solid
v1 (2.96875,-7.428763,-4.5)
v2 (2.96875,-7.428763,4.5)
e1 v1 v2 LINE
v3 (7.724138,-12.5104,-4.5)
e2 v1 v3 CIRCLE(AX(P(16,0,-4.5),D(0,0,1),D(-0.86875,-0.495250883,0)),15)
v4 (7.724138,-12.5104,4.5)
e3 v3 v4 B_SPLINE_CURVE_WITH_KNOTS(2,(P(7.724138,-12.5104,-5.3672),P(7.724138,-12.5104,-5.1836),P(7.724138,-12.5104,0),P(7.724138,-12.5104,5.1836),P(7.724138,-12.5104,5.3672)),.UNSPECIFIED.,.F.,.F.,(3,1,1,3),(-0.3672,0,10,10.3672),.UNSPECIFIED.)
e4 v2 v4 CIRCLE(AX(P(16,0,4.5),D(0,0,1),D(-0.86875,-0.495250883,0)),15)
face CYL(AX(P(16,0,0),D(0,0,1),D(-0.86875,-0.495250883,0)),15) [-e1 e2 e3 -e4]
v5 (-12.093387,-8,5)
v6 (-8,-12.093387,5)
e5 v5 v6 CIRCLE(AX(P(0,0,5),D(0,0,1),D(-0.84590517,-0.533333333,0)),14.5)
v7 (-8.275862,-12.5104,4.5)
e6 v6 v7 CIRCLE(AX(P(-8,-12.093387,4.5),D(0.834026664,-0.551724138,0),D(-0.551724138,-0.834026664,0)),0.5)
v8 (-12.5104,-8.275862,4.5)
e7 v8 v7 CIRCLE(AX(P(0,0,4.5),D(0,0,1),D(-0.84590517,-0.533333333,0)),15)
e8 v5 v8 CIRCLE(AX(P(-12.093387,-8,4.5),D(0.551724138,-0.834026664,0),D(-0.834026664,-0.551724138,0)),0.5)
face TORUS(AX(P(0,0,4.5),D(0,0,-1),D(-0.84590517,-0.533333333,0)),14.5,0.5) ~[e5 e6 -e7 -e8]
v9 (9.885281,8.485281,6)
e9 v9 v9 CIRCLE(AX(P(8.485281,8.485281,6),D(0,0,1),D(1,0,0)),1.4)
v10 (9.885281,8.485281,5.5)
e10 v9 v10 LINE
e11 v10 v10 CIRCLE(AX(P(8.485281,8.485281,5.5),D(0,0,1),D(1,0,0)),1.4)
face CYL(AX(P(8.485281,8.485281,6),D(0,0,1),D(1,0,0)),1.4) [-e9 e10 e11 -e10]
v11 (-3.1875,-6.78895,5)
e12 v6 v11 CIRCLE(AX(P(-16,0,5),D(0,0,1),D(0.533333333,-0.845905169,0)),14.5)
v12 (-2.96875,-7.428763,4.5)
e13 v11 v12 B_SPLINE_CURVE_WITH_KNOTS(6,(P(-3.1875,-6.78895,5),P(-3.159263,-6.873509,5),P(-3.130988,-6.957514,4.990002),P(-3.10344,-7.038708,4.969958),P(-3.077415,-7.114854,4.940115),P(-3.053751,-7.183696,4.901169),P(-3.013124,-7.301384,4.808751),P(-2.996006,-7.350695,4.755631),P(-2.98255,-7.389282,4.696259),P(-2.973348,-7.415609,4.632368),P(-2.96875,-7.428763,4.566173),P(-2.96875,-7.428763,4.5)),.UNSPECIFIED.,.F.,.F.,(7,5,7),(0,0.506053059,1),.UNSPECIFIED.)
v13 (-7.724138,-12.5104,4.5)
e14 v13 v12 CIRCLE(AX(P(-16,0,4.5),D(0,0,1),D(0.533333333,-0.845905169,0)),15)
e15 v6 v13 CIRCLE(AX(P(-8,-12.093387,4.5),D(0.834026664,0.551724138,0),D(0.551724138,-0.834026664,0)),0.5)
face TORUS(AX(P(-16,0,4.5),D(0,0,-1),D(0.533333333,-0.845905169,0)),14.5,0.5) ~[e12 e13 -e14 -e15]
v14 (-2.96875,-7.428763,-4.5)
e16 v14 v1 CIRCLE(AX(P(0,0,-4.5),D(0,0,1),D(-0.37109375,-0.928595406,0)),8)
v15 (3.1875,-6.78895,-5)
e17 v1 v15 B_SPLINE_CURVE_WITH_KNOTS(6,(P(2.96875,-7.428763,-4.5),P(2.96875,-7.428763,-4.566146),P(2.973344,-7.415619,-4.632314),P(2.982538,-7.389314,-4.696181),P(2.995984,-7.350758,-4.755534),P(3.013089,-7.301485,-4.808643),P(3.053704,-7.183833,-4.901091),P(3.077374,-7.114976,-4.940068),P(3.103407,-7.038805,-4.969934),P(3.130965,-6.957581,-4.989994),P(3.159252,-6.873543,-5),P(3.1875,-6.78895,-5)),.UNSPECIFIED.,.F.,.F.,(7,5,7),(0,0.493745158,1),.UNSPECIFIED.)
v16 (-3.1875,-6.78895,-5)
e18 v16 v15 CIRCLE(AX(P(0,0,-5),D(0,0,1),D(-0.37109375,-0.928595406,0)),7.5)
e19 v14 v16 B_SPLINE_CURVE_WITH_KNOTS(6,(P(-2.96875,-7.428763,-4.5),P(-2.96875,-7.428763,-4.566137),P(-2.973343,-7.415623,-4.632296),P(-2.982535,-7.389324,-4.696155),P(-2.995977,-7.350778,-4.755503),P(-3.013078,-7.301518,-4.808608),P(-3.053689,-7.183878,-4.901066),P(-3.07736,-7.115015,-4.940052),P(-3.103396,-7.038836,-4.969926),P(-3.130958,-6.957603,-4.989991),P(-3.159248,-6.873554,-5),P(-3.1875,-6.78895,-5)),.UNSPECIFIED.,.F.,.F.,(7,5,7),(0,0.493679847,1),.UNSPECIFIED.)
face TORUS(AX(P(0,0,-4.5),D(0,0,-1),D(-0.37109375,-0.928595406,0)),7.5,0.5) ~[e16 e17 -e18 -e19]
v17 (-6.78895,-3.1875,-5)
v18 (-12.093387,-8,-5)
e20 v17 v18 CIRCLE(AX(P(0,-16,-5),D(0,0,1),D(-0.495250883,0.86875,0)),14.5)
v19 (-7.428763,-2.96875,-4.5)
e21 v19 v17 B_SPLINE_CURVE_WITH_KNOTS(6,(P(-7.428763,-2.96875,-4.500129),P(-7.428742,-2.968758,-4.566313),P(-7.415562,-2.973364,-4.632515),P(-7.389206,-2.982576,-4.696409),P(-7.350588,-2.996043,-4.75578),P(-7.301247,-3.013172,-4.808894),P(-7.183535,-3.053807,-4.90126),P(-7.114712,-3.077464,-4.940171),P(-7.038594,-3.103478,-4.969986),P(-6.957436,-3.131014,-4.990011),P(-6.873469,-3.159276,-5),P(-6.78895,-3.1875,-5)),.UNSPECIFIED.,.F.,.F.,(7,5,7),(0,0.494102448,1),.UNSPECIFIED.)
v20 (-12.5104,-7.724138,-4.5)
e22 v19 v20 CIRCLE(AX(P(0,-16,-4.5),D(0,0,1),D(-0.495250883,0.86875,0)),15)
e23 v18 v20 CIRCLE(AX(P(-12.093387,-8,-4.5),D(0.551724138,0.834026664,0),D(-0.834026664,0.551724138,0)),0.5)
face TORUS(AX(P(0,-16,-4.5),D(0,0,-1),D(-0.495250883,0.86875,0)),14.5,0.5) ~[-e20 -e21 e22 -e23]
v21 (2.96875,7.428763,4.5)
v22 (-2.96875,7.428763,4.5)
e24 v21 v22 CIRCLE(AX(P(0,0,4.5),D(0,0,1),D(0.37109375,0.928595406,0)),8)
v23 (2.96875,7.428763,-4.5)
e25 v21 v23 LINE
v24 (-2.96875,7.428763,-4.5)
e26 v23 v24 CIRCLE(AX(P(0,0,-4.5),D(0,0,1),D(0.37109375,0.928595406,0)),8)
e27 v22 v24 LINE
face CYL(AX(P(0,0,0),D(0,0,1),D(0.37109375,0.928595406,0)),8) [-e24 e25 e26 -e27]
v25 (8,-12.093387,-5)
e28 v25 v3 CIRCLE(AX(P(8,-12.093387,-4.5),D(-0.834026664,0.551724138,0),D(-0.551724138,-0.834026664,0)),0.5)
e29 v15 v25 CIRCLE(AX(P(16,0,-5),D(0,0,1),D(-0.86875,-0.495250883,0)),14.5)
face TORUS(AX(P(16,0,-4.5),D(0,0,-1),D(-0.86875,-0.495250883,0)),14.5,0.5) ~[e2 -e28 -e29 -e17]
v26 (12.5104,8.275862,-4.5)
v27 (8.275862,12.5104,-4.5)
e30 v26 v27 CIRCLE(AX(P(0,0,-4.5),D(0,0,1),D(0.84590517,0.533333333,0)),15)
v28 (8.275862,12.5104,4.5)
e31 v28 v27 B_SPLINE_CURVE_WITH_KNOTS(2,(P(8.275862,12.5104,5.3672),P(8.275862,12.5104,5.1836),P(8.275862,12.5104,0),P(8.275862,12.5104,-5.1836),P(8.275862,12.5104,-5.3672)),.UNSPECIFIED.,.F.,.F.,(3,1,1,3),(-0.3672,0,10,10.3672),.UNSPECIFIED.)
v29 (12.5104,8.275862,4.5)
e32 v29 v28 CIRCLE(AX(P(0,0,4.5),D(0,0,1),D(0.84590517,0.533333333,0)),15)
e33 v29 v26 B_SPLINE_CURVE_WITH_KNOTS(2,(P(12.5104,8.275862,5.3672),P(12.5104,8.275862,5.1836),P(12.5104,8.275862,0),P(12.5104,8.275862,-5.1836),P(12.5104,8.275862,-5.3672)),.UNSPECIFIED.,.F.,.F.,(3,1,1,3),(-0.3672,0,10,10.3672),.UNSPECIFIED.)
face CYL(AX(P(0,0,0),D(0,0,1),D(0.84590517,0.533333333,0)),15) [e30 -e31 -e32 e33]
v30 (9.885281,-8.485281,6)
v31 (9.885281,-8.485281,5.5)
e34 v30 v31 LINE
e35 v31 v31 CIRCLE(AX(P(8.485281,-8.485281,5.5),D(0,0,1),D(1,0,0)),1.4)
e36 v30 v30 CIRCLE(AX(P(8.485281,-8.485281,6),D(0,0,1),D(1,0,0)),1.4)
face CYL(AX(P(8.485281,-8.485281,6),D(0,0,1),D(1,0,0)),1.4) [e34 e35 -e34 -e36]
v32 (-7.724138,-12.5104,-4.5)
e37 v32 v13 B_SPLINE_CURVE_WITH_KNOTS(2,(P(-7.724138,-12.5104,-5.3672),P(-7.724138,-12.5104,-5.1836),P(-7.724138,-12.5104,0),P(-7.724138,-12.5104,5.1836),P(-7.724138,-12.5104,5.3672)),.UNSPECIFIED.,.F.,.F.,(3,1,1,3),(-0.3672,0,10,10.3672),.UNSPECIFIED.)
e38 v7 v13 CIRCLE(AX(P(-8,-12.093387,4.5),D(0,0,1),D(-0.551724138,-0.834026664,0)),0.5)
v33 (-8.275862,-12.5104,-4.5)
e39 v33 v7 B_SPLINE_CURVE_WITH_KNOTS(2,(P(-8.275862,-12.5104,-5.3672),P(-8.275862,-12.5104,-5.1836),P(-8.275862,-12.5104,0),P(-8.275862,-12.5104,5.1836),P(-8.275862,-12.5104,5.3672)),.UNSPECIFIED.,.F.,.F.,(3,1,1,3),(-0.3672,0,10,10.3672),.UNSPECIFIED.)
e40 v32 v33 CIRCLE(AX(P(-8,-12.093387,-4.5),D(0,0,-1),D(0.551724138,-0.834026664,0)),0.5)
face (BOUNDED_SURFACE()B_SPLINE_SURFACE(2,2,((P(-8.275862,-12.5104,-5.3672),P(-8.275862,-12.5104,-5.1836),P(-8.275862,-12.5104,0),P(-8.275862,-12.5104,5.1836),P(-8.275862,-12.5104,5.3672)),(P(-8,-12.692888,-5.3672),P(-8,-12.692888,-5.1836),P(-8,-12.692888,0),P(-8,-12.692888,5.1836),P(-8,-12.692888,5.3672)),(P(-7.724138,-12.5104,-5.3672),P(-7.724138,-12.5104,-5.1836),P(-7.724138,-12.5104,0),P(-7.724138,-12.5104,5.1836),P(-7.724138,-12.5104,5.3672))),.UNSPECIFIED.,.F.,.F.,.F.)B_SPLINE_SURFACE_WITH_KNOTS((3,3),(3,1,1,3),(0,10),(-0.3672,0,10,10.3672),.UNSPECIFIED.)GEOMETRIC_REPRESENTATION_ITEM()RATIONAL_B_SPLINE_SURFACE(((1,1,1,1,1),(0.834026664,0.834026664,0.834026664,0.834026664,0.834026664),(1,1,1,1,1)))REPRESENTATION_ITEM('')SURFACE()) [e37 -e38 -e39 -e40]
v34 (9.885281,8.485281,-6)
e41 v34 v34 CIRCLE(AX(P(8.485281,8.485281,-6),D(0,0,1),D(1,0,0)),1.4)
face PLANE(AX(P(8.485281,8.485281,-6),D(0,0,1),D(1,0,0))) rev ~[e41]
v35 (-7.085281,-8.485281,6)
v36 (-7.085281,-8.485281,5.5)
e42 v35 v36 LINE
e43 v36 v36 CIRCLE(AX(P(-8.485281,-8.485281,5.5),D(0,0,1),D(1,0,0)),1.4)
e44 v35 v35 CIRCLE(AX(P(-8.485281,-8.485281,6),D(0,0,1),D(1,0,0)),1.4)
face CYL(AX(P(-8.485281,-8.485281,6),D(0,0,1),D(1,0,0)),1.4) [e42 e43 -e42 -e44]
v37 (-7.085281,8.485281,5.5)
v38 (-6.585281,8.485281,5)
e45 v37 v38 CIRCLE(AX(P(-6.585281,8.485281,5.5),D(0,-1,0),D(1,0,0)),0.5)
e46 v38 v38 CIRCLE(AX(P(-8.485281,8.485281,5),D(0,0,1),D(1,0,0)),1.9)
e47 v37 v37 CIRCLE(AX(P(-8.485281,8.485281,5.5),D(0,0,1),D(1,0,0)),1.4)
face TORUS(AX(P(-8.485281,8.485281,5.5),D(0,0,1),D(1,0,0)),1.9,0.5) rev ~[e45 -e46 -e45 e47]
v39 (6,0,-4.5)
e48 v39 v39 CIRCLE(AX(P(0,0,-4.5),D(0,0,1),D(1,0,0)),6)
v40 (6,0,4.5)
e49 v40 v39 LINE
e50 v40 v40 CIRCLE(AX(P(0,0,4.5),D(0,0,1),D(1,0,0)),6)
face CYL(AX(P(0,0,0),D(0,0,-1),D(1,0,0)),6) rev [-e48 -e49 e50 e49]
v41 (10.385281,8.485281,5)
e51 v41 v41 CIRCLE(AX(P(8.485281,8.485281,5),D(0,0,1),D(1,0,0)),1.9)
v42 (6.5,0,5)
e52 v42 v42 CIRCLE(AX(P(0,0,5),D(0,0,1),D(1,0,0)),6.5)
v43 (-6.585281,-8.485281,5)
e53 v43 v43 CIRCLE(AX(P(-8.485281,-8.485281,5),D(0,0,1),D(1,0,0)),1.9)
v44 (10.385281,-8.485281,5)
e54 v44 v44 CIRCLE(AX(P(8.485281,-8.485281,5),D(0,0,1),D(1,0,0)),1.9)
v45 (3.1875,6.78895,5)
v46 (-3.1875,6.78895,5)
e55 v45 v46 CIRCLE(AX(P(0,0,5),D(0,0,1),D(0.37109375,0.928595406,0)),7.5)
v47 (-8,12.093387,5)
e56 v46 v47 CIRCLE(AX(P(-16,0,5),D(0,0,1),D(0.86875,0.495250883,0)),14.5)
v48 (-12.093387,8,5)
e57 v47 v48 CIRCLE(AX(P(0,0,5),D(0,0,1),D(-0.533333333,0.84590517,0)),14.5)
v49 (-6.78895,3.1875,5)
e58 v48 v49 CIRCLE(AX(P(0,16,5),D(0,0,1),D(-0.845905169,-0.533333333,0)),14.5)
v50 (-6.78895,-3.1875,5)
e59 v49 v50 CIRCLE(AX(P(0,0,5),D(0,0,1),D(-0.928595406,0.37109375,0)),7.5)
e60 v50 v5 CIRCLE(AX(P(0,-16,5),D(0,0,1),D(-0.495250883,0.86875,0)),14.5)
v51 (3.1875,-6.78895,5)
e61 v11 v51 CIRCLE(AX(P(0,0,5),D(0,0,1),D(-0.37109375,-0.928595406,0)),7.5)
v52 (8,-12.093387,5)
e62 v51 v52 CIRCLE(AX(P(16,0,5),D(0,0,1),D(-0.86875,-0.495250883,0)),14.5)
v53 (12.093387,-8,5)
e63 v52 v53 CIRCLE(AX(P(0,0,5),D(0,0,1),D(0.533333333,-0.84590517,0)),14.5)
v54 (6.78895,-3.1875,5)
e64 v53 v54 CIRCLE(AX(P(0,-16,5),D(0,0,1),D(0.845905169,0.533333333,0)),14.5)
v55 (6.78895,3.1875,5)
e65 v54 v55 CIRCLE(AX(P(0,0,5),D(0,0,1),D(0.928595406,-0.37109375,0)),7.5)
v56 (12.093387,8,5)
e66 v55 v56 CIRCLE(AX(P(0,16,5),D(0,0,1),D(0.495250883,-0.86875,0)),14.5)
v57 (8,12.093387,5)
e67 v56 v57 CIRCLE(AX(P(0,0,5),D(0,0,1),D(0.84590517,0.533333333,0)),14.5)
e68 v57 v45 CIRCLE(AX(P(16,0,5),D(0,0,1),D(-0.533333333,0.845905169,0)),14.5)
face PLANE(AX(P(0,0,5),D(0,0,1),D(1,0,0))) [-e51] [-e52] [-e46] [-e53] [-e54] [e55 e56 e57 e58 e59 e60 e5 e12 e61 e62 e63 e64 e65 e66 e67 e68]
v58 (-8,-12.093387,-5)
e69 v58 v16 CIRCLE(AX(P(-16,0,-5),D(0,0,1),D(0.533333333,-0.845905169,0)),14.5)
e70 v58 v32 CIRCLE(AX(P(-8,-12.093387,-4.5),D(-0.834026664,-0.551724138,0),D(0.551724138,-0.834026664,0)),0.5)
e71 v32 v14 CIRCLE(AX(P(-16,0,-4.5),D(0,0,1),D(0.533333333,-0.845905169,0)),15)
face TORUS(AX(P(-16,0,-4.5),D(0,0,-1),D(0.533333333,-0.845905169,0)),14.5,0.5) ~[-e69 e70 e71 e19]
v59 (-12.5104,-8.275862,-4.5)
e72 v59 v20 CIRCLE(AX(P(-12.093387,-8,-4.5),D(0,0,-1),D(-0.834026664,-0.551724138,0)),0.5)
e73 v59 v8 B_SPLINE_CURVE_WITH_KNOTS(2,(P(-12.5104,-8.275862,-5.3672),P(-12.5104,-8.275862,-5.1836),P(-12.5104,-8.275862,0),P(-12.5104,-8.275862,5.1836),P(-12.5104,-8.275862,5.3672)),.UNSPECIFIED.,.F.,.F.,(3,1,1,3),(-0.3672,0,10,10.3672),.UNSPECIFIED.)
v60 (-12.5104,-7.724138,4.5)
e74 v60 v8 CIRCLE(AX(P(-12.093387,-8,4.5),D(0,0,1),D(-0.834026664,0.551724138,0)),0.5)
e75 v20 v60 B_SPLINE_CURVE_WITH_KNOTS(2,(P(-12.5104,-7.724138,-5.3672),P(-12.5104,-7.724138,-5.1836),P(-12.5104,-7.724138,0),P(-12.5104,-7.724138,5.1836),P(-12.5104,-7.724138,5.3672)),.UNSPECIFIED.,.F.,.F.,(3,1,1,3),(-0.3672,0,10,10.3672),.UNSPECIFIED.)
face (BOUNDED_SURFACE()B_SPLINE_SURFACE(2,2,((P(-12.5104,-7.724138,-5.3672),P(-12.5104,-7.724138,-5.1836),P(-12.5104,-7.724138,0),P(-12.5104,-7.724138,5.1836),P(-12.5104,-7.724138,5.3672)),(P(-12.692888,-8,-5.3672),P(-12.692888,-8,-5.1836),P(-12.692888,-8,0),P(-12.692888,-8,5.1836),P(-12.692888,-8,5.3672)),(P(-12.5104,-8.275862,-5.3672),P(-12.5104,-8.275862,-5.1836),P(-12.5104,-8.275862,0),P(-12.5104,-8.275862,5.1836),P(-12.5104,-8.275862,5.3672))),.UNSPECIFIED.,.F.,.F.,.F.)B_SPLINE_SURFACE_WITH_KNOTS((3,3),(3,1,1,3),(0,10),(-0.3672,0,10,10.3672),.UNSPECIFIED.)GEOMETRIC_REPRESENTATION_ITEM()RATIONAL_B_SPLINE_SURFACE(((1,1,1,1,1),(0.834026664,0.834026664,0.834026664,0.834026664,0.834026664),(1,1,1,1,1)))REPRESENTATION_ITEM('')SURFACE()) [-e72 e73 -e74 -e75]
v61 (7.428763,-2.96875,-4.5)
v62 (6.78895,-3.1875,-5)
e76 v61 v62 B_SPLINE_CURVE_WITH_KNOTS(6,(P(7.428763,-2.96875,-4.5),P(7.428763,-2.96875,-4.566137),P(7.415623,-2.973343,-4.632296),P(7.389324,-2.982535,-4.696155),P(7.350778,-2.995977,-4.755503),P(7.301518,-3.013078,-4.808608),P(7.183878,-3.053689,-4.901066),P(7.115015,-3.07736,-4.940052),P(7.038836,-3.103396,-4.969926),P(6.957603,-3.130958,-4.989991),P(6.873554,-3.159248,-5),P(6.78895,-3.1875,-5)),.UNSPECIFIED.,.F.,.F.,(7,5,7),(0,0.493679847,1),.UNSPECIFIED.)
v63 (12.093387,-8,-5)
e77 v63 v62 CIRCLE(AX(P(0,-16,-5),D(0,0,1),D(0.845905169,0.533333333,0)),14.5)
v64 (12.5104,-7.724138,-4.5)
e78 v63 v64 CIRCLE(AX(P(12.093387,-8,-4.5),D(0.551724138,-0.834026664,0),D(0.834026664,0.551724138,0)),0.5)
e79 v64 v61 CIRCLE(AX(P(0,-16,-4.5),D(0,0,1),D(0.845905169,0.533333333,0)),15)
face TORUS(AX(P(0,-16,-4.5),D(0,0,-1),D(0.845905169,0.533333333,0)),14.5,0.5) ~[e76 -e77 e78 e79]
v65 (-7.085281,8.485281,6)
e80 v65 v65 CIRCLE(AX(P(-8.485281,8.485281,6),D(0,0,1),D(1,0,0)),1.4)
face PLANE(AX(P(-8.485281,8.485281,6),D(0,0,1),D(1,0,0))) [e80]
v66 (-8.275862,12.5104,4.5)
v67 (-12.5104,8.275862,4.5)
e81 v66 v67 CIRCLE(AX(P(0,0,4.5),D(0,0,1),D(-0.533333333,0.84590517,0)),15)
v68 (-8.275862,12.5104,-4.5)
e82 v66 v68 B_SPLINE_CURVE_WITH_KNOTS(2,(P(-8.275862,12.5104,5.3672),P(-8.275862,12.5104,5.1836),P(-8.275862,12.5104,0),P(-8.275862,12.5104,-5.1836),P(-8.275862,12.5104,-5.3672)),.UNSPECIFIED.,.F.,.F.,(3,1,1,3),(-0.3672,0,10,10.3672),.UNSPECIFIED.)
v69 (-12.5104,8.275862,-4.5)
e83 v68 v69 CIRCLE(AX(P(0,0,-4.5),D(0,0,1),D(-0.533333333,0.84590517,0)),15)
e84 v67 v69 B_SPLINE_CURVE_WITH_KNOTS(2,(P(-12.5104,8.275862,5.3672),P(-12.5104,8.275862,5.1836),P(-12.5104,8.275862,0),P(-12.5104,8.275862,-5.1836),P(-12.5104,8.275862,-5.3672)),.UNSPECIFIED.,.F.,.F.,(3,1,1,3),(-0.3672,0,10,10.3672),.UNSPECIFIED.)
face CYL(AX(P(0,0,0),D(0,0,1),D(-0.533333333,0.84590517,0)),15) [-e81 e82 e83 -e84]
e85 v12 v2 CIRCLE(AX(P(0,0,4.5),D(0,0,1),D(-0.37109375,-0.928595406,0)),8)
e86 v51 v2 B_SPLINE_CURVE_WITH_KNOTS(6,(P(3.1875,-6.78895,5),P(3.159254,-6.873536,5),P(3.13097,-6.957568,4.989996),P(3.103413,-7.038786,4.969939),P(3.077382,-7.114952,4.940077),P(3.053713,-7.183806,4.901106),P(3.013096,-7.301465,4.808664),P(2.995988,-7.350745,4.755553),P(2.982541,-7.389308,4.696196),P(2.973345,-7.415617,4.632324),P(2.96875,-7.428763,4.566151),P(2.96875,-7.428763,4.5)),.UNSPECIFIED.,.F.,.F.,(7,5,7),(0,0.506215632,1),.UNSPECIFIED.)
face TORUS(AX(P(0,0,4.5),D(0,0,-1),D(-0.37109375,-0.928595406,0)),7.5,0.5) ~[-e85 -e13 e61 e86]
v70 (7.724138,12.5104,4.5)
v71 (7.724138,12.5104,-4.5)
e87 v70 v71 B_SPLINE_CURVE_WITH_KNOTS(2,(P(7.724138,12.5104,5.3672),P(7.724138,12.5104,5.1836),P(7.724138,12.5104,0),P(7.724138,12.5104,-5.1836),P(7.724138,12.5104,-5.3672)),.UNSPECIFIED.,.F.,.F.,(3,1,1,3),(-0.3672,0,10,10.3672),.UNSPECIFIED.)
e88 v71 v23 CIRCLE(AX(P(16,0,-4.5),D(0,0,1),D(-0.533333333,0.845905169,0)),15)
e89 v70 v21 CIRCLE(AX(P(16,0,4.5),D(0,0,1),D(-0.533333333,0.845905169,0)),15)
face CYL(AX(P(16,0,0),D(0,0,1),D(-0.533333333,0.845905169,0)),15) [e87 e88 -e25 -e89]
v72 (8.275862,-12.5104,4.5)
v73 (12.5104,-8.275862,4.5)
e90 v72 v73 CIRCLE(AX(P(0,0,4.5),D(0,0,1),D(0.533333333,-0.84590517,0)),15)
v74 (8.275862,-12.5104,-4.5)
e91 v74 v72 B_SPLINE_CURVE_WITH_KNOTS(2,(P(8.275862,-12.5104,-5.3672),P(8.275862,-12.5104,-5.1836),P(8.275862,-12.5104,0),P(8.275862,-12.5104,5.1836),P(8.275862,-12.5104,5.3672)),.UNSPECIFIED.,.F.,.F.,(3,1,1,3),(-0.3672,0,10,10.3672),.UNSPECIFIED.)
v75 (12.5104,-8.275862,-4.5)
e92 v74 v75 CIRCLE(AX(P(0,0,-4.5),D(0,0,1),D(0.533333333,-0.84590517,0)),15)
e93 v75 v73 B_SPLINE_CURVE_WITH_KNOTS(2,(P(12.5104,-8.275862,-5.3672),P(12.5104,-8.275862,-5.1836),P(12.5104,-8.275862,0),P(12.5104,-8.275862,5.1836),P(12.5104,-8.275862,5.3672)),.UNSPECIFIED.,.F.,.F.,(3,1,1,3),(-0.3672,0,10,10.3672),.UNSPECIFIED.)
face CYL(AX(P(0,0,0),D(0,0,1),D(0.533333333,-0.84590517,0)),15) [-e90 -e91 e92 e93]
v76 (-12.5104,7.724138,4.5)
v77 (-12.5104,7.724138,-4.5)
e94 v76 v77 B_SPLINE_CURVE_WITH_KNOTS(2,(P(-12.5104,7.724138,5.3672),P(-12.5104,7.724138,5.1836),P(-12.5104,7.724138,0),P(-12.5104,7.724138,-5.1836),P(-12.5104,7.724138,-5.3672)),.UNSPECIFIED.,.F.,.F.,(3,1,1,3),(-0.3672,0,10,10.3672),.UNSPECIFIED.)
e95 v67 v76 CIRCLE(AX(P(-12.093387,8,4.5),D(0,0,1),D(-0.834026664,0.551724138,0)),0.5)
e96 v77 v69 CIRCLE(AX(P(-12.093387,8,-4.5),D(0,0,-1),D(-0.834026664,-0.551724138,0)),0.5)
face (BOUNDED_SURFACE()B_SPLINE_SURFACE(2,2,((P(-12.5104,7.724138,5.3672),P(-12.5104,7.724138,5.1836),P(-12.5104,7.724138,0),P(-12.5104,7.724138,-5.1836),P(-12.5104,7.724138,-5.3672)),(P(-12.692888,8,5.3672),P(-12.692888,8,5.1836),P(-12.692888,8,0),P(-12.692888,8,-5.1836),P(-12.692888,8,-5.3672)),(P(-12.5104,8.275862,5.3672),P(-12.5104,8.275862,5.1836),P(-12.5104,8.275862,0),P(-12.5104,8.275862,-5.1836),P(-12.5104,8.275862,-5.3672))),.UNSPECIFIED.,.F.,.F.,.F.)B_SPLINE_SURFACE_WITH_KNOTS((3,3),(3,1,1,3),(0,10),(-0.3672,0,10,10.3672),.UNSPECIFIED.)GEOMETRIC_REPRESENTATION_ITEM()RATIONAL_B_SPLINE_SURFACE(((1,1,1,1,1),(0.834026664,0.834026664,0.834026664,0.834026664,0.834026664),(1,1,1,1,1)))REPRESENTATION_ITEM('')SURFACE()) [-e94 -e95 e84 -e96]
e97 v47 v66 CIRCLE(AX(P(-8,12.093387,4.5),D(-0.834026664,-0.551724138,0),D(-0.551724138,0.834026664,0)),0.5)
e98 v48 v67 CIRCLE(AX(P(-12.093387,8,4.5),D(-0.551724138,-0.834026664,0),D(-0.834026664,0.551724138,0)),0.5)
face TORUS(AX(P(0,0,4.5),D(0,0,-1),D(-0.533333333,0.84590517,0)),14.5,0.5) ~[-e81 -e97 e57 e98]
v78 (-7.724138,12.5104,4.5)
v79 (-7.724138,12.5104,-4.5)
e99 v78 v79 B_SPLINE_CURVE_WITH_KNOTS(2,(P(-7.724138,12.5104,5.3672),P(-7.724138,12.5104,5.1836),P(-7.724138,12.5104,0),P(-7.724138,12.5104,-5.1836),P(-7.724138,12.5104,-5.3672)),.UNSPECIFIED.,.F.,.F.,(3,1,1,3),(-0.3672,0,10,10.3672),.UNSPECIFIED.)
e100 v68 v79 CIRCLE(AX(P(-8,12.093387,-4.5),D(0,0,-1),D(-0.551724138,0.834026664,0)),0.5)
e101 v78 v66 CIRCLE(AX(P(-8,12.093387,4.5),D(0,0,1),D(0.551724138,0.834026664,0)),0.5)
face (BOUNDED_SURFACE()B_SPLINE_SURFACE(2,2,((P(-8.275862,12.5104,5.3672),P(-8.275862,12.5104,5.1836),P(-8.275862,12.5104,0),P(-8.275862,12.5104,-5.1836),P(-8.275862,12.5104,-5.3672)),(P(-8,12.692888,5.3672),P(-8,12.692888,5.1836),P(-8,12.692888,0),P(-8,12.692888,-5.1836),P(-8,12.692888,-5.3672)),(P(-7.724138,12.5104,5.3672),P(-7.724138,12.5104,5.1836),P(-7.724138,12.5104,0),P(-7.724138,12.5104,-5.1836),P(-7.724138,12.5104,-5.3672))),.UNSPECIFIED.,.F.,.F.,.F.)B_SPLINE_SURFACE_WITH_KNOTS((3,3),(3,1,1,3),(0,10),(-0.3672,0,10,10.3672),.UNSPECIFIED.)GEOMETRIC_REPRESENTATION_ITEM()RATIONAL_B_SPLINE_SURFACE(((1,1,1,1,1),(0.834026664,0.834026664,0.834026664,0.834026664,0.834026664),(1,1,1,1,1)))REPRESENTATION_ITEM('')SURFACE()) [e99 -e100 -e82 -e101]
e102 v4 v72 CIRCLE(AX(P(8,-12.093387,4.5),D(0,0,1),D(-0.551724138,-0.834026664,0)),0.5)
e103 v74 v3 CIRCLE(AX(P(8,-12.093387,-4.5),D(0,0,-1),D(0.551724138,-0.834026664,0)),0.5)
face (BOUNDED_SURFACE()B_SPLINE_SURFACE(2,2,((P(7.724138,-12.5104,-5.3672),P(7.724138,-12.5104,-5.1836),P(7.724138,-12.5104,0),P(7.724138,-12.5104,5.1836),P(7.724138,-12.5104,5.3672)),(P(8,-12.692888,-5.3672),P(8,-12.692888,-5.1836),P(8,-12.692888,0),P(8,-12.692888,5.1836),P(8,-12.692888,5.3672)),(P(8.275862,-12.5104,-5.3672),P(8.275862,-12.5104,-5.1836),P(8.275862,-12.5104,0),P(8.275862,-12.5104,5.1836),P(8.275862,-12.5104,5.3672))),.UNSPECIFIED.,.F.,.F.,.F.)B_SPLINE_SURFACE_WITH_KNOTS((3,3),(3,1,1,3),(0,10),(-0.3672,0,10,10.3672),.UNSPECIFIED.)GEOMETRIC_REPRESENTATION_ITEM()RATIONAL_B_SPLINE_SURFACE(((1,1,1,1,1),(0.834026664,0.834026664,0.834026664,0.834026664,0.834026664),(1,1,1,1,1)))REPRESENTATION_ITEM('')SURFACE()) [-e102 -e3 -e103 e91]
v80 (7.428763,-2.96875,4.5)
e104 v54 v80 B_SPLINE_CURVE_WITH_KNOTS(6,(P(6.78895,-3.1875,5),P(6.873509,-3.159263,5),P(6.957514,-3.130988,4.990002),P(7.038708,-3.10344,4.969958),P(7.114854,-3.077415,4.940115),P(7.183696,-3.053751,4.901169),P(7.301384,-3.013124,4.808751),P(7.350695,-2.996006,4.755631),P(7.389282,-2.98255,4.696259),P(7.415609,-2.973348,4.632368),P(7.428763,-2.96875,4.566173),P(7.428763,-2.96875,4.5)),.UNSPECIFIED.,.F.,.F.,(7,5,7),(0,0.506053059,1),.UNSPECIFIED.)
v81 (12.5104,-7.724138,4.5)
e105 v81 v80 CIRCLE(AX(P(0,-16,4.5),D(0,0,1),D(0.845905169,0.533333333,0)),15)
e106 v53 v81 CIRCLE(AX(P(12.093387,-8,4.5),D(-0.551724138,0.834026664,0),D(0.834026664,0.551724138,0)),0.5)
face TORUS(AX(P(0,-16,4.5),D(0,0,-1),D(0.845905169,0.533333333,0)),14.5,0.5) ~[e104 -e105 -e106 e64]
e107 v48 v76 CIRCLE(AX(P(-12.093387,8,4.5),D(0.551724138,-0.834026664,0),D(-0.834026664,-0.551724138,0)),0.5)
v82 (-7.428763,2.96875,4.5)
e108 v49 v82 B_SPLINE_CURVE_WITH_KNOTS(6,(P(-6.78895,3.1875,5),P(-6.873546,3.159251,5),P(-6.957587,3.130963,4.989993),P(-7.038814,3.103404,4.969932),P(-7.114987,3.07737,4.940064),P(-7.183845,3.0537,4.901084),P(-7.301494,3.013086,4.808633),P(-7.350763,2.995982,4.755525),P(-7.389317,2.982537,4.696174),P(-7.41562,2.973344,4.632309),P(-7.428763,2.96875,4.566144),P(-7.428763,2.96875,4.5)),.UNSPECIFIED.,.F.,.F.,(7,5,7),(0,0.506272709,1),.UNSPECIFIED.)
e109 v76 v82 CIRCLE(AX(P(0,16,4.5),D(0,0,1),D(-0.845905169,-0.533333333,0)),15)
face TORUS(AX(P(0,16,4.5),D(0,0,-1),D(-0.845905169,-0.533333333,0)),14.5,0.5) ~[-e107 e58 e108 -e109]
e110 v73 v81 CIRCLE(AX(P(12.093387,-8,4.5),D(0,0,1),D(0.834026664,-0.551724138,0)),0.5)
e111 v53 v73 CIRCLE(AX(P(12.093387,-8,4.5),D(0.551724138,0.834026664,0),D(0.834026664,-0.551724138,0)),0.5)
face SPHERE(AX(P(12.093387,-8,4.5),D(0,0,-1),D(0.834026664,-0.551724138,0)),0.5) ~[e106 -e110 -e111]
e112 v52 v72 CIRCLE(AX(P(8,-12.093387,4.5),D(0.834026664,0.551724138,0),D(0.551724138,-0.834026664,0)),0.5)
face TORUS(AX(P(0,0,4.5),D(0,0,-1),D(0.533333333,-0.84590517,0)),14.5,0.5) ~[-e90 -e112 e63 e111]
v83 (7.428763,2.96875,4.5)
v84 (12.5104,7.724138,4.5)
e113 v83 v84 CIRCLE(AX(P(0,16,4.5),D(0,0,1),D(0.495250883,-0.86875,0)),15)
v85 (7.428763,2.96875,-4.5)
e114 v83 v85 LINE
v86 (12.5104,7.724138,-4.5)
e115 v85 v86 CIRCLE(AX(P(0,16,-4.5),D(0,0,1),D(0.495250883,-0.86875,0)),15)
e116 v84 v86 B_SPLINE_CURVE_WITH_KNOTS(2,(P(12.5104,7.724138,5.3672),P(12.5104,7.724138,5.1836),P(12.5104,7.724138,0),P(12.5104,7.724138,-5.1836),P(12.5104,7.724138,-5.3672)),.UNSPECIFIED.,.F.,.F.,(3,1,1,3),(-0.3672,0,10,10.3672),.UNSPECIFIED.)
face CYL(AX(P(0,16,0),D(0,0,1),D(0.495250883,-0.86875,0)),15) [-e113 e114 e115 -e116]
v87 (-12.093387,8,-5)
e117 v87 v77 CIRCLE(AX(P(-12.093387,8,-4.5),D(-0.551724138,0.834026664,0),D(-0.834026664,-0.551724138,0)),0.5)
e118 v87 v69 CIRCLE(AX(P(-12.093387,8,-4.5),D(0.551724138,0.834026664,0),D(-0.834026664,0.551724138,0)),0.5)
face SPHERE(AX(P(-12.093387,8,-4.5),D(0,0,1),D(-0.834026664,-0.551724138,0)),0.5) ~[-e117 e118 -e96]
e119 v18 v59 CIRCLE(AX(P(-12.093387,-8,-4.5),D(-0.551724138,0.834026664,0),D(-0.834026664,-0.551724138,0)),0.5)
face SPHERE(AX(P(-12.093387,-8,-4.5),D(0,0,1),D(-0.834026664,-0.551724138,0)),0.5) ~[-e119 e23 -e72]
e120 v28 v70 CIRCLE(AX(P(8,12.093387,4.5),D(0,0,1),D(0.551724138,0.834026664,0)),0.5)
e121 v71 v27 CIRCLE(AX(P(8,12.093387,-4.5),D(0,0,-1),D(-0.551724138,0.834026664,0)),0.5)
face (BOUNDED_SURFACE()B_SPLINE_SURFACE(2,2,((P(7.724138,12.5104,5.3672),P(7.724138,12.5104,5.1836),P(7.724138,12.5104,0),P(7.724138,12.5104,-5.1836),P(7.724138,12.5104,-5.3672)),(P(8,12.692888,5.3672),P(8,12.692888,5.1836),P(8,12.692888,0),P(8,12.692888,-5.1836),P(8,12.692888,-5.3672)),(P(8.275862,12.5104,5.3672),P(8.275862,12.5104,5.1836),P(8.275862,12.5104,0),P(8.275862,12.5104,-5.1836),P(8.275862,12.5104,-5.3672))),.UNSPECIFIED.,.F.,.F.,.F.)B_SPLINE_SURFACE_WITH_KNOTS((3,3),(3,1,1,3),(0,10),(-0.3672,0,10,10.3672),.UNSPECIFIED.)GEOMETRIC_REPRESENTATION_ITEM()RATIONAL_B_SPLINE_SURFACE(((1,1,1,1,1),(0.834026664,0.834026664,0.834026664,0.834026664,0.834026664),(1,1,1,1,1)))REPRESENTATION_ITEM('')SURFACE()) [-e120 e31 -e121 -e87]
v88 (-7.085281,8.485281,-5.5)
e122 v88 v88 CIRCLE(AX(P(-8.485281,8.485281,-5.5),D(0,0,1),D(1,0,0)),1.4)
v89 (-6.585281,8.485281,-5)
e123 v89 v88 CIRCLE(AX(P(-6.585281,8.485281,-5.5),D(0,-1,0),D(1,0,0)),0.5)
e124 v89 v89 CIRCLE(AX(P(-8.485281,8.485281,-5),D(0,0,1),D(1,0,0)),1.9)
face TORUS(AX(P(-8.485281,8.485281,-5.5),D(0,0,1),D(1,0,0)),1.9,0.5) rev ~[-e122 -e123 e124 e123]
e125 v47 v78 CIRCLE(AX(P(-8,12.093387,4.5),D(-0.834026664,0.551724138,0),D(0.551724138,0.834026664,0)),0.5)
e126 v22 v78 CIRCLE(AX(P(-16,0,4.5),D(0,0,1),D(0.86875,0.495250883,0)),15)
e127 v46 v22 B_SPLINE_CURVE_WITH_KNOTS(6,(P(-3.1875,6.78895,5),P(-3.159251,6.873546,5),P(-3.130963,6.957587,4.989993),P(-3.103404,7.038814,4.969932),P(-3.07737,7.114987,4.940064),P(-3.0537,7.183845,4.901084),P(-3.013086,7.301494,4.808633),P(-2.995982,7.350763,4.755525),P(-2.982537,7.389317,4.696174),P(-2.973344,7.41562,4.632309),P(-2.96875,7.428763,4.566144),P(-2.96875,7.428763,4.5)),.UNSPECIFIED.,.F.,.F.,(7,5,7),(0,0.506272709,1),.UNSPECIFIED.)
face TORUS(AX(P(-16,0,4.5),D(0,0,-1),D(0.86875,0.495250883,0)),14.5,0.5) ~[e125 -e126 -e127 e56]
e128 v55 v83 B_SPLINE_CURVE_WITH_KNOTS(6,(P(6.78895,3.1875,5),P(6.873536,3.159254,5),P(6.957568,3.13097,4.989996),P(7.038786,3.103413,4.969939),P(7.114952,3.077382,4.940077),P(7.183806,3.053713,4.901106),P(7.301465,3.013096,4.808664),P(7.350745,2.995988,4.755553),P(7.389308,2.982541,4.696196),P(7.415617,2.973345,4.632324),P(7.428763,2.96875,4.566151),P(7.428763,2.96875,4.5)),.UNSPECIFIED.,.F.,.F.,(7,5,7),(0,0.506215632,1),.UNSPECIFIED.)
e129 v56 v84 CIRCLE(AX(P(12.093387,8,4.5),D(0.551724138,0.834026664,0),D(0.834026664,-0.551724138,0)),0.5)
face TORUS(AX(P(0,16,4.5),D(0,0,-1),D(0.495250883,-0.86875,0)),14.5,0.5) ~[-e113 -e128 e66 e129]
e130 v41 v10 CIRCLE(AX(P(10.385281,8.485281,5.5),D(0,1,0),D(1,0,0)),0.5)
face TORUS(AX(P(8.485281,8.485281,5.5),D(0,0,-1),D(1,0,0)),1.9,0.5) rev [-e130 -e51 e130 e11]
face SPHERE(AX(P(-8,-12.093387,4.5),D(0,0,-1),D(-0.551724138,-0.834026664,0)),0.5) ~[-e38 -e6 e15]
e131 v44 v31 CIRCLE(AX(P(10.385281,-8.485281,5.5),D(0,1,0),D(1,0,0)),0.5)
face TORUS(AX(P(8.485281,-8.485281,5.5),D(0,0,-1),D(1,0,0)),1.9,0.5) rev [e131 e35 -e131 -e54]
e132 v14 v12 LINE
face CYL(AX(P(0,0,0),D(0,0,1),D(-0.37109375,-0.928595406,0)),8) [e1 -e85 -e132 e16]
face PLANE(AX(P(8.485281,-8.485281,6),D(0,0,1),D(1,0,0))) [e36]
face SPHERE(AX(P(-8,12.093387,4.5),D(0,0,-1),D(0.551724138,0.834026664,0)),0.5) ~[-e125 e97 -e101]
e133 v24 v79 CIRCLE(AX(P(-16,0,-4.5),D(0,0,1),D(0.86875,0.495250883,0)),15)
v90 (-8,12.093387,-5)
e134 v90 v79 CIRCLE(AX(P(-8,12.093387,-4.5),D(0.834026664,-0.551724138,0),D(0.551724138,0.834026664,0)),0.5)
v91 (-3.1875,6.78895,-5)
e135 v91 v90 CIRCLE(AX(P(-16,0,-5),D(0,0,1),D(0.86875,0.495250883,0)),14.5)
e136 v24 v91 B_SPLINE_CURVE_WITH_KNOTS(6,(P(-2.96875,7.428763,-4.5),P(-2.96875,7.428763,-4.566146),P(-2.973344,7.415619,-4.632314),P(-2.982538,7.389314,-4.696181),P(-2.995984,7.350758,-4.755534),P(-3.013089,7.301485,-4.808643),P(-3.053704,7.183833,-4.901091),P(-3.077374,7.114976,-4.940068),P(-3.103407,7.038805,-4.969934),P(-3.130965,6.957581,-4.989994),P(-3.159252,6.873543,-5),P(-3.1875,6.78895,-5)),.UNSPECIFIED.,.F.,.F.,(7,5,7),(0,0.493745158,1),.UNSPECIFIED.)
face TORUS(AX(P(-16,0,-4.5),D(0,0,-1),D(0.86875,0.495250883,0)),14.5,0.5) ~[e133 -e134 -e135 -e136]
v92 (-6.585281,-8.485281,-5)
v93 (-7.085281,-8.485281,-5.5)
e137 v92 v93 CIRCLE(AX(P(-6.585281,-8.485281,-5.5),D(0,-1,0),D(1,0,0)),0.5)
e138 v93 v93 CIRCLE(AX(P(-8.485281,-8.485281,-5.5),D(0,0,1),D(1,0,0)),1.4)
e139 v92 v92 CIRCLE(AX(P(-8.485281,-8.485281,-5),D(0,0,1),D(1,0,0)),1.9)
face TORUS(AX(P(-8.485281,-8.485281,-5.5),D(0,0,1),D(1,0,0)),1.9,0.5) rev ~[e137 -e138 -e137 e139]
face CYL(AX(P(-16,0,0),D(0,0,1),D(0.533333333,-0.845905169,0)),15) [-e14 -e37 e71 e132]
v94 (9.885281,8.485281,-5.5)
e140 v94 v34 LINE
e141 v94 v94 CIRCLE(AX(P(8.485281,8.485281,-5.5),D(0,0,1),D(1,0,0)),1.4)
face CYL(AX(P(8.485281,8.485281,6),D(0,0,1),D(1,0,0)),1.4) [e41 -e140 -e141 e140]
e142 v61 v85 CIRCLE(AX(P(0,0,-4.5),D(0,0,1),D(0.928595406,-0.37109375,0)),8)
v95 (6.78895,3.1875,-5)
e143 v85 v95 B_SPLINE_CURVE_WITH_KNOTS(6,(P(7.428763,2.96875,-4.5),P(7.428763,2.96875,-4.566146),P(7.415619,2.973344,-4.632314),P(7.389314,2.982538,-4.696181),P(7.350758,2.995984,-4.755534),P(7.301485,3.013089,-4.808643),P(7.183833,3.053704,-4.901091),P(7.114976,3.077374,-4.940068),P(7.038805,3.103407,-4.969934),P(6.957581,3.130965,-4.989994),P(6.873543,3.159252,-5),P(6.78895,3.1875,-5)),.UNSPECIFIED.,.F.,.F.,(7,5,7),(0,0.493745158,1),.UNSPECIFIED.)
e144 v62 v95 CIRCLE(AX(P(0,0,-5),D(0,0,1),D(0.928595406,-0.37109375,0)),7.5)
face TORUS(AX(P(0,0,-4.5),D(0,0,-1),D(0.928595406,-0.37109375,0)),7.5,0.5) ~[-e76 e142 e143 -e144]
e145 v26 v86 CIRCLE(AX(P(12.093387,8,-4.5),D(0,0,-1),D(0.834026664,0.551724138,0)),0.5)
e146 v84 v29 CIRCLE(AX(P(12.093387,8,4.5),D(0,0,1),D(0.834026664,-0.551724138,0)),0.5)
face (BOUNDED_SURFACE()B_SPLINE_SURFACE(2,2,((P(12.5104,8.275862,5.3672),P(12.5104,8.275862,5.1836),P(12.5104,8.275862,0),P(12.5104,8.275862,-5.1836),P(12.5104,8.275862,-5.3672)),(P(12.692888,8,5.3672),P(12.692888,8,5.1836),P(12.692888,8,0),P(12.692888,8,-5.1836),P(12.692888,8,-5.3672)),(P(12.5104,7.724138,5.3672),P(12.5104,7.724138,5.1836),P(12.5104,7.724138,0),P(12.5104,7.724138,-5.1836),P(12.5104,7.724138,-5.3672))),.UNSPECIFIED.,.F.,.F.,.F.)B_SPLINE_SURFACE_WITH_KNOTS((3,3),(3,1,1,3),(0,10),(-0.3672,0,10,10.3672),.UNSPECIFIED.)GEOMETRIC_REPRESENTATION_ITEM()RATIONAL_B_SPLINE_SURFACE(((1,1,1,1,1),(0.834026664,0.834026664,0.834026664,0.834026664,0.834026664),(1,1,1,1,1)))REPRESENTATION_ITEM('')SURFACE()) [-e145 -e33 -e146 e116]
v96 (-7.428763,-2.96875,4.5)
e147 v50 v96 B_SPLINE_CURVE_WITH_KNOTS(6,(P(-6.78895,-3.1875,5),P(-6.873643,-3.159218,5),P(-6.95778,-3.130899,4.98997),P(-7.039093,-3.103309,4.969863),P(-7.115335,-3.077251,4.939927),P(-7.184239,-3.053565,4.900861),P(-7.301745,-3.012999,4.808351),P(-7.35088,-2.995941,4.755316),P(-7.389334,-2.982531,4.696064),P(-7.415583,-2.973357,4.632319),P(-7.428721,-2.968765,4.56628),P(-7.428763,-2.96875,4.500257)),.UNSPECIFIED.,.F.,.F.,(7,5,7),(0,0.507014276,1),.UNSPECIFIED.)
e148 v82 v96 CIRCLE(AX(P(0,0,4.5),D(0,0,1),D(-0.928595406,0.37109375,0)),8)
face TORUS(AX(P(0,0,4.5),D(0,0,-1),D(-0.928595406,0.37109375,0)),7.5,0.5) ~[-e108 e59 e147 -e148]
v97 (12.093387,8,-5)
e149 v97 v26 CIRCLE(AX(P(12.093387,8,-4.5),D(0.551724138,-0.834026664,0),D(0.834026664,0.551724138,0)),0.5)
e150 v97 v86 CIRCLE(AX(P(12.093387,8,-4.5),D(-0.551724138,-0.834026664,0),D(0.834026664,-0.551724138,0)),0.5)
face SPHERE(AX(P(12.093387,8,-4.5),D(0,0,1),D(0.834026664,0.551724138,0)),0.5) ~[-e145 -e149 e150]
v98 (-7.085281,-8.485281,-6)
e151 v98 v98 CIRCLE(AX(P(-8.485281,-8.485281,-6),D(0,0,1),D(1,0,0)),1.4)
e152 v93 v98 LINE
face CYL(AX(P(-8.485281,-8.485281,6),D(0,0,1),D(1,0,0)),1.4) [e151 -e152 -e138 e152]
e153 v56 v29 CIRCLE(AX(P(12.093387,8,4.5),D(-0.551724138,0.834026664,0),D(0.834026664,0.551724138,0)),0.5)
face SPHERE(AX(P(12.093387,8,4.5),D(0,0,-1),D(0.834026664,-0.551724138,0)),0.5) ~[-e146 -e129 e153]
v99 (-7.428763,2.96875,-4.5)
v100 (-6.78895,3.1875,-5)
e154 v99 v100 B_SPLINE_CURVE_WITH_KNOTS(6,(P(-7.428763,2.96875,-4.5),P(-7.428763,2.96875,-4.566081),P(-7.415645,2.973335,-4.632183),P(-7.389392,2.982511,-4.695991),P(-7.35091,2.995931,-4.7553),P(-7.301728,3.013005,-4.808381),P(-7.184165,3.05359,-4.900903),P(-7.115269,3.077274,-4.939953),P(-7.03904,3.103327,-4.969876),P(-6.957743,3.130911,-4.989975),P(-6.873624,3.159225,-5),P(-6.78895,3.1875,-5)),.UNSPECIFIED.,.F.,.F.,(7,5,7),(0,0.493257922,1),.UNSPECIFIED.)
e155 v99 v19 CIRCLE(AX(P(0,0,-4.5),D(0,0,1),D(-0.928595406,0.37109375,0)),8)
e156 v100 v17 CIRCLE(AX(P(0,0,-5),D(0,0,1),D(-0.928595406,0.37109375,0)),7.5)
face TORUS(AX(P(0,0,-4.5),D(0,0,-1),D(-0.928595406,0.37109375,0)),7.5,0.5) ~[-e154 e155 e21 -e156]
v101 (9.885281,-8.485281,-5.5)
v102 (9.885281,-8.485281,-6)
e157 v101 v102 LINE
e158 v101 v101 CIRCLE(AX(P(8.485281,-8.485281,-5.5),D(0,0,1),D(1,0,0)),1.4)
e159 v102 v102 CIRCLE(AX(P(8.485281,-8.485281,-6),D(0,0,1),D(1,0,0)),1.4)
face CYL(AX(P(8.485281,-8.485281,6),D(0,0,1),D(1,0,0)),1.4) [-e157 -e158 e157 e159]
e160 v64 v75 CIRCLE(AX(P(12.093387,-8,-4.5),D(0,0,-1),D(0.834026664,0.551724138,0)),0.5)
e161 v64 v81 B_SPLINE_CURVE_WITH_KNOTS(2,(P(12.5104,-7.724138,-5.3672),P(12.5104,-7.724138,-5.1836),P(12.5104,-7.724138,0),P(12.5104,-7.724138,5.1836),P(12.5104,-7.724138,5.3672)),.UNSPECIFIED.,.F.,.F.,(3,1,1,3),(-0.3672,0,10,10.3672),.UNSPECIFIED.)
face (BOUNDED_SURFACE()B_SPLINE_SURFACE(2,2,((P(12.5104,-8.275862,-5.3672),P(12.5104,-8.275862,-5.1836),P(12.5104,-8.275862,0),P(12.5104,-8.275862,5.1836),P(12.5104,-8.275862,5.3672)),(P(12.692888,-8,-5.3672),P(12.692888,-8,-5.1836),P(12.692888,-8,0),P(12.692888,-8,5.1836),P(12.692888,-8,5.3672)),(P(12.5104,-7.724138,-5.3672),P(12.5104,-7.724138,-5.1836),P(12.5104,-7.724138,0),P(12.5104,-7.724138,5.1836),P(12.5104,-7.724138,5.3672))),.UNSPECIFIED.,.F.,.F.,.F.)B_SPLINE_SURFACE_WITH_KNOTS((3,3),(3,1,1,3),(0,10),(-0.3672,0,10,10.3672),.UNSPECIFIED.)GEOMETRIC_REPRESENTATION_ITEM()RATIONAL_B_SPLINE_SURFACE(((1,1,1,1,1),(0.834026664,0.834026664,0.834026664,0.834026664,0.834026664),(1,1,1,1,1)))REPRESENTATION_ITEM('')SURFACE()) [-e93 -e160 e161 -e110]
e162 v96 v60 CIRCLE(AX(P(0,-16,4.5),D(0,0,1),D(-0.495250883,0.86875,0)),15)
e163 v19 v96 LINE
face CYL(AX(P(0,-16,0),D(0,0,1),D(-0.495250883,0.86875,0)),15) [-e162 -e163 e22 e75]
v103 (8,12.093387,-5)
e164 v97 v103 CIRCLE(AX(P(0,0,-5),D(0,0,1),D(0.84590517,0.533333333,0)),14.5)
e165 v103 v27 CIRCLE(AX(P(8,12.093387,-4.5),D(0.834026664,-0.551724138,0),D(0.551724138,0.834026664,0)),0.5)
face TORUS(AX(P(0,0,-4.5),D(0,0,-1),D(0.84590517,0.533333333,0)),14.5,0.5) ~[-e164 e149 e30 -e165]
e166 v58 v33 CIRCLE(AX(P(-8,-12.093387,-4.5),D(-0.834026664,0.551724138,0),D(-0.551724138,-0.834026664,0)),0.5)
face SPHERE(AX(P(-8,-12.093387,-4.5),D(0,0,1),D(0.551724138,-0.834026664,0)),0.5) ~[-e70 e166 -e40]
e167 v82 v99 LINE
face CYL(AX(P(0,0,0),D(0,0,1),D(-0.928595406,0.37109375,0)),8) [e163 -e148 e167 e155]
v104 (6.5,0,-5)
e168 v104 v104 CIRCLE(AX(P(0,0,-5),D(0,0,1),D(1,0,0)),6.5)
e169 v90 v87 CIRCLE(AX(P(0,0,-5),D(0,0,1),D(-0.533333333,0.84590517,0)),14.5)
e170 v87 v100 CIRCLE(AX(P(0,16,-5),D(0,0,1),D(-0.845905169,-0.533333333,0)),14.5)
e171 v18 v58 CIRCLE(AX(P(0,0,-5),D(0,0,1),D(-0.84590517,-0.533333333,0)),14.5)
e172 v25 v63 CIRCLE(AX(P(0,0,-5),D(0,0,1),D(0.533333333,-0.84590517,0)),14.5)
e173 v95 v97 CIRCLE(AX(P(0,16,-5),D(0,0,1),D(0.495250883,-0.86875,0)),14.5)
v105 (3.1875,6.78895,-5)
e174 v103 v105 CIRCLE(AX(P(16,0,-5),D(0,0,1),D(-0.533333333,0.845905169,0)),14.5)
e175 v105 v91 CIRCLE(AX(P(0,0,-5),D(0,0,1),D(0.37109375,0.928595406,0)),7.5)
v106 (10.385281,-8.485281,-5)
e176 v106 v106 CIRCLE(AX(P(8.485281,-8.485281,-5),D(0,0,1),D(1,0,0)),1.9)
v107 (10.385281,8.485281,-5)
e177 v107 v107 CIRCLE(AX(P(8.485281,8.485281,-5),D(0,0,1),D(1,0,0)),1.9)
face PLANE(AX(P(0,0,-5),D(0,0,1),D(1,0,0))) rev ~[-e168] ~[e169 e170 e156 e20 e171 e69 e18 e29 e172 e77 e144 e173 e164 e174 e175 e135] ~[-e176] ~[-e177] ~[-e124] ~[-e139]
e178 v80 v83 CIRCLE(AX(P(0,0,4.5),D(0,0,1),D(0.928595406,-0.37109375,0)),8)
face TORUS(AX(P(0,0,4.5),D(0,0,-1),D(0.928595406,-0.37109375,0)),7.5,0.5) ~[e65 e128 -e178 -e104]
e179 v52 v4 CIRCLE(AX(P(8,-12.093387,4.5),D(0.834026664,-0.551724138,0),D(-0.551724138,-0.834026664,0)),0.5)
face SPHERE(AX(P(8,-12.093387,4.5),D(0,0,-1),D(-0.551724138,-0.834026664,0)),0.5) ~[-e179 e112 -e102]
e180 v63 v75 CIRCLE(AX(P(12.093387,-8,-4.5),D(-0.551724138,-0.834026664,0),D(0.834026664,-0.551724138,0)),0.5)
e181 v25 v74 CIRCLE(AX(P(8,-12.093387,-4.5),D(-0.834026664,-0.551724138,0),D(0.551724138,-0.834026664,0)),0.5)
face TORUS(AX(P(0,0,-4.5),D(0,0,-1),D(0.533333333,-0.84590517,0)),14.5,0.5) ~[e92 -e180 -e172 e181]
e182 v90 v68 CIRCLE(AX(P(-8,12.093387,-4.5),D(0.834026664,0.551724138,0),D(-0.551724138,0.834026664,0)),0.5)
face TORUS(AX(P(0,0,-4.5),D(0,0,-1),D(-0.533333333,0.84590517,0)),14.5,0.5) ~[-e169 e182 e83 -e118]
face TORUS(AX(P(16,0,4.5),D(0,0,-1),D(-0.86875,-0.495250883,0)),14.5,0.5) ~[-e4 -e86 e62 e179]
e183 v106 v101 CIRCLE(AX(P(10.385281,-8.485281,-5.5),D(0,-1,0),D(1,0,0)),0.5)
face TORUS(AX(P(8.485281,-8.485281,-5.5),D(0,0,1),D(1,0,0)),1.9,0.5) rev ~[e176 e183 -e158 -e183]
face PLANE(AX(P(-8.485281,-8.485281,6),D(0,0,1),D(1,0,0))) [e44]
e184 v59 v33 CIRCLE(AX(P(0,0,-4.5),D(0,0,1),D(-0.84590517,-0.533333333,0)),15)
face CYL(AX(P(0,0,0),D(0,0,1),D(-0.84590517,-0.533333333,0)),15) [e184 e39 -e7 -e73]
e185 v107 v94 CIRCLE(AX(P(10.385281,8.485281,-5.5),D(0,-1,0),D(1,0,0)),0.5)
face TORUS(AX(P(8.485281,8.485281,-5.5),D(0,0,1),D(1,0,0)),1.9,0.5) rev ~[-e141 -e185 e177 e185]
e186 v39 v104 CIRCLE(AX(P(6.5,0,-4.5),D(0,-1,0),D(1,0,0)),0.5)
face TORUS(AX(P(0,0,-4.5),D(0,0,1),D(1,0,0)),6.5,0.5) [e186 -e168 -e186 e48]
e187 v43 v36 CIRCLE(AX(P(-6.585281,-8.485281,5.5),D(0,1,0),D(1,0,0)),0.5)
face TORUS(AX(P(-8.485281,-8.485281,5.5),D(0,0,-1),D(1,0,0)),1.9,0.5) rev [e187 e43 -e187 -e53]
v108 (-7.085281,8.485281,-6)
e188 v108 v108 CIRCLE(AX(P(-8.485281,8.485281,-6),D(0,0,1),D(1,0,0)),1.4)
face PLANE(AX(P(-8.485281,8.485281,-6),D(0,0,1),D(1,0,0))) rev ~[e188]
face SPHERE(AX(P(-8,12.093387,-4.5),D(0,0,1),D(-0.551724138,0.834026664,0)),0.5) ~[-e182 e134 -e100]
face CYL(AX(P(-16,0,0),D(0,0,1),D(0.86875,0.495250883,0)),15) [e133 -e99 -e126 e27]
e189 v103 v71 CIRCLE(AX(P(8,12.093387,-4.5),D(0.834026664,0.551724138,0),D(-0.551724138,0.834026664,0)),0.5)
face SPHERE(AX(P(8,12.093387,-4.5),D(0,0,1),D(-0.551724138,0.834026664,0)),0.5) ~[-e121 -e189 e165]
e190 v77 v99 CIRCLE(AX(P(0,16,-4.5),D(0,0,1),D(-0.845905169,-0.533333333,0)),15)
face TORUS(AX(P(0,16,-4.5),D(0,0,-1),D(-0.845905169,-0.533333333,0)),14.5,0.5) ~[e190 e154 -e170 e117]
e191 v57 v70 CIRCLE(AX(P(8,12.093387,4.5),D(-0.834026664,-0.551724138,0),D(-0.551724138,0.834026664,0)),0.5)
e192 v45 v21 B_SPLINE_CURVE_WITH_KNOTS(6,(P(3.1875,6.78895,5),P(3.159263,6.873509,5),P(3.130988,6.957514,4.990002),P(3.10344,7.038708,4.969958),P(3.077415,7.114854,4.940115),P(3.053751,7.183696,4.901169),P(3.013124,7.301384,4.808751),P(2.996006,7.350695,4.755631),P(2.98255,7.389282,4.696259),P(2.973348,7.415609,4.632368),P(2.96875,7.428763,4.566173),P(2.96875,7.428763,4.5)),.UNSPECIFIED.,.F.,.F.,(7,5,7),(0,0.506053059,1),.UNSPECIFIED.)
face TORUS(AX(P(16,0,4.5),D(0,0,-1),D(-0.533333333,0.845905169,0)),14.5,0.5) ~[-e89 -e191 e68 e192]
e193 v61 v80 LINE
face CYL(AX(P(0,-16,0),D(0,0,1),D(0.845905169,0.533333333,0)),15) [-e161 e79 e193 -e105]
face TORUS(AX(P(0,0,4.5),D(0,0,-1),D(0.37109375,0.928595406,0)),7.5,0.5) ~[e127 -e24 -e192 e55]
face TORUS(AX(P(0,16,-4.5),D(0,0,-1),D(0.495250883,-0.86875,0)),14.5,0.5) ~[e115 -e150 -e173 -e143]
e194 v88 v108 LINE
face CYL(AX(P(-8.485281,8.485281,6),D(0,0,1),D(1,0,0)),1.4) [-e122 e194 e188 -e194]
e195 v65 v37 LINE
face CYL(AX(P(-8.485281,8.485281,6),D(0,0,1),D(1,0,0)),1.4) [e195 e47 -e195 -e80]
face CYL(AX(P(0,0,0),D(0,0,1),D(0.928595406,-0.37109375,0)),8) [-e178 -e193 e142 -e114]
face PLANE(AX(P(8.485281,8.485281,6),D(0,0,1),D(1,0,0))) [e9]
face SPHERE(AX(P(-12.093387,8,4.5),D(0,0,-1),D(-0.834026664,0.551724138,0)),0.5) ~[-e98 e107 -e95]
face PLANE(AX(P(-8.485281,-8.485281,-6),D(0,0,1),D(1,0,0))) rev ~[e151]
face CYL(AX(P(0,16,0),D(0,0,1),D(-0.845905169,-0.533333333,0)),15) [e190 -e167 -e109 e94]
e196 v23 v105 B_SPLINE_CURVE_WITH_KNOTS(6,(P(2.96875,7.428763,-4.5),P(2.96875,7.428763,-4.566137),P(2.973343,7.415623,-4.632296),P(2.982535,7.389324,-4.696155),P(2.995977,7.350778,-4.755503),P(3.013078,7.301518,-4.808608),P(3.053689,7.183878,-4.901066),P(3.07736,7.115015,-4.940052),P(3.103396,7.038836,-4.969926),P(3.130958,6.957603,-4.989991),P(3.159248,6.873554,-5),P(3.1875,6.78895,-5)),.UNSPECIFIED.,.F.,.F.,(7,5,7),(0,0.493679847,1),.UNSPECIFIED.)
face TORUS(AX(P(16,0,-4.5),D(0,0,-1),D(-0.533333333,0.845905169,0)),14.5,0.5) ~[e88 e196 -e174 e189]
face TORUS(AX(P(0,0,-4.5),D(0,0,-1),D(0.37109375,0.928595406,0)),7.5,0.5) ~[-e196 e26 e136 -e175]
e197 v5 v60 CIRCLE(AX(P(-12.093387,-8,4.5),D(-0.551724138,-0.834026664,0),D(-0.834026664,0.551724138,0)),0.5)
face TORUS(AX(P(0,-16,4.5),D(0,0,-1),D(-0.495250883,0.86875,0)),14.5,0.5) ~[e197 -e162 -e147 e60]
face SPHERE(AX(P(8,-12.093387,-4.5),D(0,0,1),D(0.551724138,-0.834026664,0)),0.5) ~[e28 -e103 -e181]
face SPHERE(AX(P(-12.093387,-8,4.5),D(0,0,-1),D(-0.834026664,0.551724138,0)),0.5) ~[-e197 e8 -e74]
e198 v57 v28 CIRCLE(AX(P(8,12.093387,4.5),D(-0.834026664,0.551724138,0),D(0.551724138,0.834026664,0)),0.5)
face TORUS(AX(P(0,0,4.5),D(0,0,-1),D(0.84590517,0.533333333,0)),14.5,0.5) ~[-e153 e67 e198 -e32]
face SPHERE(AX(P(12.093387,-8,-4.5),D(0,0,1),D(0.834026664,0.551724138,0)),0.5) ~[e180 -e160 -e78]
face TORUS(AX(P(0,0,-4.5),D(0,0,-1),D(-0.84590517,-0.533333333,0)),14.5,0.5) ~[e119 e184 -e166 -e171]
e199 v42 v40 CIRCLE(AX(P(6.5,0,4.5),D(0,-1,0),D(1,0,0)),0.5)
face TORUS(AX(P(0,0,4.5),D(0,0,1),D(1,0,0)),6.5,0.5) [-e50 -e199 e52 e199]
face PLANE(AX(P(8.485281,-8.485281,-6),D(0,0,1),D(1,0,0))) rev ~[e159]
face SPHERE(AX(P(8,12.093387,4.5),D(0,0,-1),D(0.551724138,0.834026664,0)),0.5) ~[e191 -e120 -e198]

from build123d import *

# Parameters (mm, degrees)
SKETCH1_R           = 6
BOSS_EXTRUDE1_DEPTH = 5
BOSS_EXTRUDE2_START = 1
SKETCH2_R           = 1.4
BOSS_EXTRUDE2_DEPTH = 12
FILLET1_R           = 0.5


with BuildPart() as part:
    # Sketch1 → Boss-Extrude1 (new, symmetric)
    with BuildSketch(Plane.XY):
        with BuildLine():
            ThreePointArc((-7.428763251, 2.96875), (-8, 0), (-7.428763251, -2.96875))
            ThreePointArc((-7.428763251, -2.96875), (-10.368472369, -5.160499055), (-12.68857754, -8))
            ThreePointArc((-12.68857754, -8), (-10.606601718, -10.606601718), (-8, -12.68857754))
            ThreePointArc((-8, -12.68857754), (-5.160499055, -10.368472369), (-2.96875, -7.428763251))
            ThreePointArc((-2.96875, -7.428763251), (0, -8), (2.96875, -7.428763251))
            ThreePointArc((2.96875, -7.428763251), (5.160499055, -10.368472369), (8, -12.68857754))
            ThreePointArc((8, -12.68857754), (10.606601718, -10.606601718), (12.68857754, -8))
            ThreePointArc((12.68857754, -8), (10.368472369, -5.160499055), (7.428763251, -2.96875))
            ThreePointArc((7.428763251, -2.96875), (8, 0), (7.428763251, 2.96875))
            ThreePointArc((7.428763251, 2.96875), (10.368472369, 5.160499055), (12.68857754, 8))
            ThreePointArc((12.68857754, 8), (10.606601718, 10.606601718), (8, 12.68857754))
            ThreePointArc((8, 12.68857754), (5.160499055, 10.368472369), (2.96875, 7.428763251))
            ThreePointArc((2.96875, 7.428763251), (0, 8), (-2.96875, 7.428763251))
            ThreePointArc((-2.96875, 7.428763251), (-5.160499055, 10.368472369), (-8, 12.68857754))
            ThreePointArc((-8, 12.68857754), (-10.606601718, 10.606601718), (-12.68857754, 8))
            ThreePointArc((-12.68857754, 8), (-10.368472369, 5.160499055), (-7.428763251, 2.96875))
        make_face()
        Circle(SKETCH1_R, mode=Mode.SUBTRACT)
    extrude(amount=BOSS_EXTRUDE1_DEPTH, both=True)

    # Sketch2 → Boss-Extrude2 (add)
    with BuildSketch(Plane.XY.offset(5).offset(BOSS_EXTRUDE2_START)):
        with Locations((-8.485281374, 8.485281374)):
            Circle(SKETCH2_R)
        with Locations((8.485281374, 8.485281374)):
            Circle(SKETCH2_R)
        with Locations((8.485281374, -8.485281374)):
            Circle(SKETCH2_R)
        with Locations((-8.485281374, -8.485281374)):
            Circle(SKETCH2_R)
    extrude(amount=-BOSS_EXTRUDE2_DEPTH)

    # Fillet1
    fillet1_edges = [part.edges().sort_by_distance(p)[0] for p in [
        (-5.160499055, -10.368472369, 5),
        (0, -8, 5),
        (-8, 0, -5),
        (-10.368472369, 5.160499055, -5),
        (-10.606601718, 10.606601718, -5),
        (-5.160499055, 10.368472369, -5),
        (0, 8, -5),
        (5.160499055, -10.368472369, 5),
        (5.160499055, 10.368472369, -5),
        (10.606601718, 10.606601718, -5),
        (10.368472369, 5.160499055, -5),
        (8, 0, -5),
        (10.368472369, -5.160499055, -5),
        (10.606601718, -10.606601718, -5),
        (5.160499055, -10.368472369, -5),
        (0, -8, -5),
        (10.606601718, -10.606601718, 5),
        (-5.160499055, -10.368472369, -5),
        (-10.606601718, -10.606601718, -5),
        (-10.368472369, -5.160499055, -5),
        (10.368472369, -5.160499055, 5),
        (8, 0, 5),
        (-12.68857754, 8, 0),
        (-8, 12.68857754, 0),
        (8, 12.68857754, 0),
        (12.68857754, 8, 0),
        (12.68857754, -8, 0),
        (8, -12.68857754, 0),
        (-8, -12.68857754, 0),
        (-12.68857754, -8, 0),
        (10.368472369, 5.160499055, 5),
        (10.606601718, 10.606601718, 5),
        (5.160499055, 10.368472369, 5),
        (0, 8, 5),
        (-6, 0, -5),
        (-6, 0, 5),
        (-10.368472369, -5.160499055, 5),
        (-5.160499055, 10.368472369, 5),
        (-10.606601718, 10.606601718, 5),
        (-10.368472369, 5.160499055, 5),
        (-9.885281374, 8.485281374, 5),
        (-8, 0, 5),
        (-9.885281374, 8.485281374, -5),
        (7.085281374, 8.485281374, 5),
        (7.085281374, 8.485281374, -5),
        (7.085281374, -8.485281374, 5),
        (7.085281374, -8.485281374, -5),
        (-9.885281374, -8.485281374, 5),
        (-9.885281374, -8.485281374, -5),
        (-10.606601718, -10.606601718, 5),
    ]]
    fillet(fillet1_edges, radius=FILLET1_R)


solid = part.part
